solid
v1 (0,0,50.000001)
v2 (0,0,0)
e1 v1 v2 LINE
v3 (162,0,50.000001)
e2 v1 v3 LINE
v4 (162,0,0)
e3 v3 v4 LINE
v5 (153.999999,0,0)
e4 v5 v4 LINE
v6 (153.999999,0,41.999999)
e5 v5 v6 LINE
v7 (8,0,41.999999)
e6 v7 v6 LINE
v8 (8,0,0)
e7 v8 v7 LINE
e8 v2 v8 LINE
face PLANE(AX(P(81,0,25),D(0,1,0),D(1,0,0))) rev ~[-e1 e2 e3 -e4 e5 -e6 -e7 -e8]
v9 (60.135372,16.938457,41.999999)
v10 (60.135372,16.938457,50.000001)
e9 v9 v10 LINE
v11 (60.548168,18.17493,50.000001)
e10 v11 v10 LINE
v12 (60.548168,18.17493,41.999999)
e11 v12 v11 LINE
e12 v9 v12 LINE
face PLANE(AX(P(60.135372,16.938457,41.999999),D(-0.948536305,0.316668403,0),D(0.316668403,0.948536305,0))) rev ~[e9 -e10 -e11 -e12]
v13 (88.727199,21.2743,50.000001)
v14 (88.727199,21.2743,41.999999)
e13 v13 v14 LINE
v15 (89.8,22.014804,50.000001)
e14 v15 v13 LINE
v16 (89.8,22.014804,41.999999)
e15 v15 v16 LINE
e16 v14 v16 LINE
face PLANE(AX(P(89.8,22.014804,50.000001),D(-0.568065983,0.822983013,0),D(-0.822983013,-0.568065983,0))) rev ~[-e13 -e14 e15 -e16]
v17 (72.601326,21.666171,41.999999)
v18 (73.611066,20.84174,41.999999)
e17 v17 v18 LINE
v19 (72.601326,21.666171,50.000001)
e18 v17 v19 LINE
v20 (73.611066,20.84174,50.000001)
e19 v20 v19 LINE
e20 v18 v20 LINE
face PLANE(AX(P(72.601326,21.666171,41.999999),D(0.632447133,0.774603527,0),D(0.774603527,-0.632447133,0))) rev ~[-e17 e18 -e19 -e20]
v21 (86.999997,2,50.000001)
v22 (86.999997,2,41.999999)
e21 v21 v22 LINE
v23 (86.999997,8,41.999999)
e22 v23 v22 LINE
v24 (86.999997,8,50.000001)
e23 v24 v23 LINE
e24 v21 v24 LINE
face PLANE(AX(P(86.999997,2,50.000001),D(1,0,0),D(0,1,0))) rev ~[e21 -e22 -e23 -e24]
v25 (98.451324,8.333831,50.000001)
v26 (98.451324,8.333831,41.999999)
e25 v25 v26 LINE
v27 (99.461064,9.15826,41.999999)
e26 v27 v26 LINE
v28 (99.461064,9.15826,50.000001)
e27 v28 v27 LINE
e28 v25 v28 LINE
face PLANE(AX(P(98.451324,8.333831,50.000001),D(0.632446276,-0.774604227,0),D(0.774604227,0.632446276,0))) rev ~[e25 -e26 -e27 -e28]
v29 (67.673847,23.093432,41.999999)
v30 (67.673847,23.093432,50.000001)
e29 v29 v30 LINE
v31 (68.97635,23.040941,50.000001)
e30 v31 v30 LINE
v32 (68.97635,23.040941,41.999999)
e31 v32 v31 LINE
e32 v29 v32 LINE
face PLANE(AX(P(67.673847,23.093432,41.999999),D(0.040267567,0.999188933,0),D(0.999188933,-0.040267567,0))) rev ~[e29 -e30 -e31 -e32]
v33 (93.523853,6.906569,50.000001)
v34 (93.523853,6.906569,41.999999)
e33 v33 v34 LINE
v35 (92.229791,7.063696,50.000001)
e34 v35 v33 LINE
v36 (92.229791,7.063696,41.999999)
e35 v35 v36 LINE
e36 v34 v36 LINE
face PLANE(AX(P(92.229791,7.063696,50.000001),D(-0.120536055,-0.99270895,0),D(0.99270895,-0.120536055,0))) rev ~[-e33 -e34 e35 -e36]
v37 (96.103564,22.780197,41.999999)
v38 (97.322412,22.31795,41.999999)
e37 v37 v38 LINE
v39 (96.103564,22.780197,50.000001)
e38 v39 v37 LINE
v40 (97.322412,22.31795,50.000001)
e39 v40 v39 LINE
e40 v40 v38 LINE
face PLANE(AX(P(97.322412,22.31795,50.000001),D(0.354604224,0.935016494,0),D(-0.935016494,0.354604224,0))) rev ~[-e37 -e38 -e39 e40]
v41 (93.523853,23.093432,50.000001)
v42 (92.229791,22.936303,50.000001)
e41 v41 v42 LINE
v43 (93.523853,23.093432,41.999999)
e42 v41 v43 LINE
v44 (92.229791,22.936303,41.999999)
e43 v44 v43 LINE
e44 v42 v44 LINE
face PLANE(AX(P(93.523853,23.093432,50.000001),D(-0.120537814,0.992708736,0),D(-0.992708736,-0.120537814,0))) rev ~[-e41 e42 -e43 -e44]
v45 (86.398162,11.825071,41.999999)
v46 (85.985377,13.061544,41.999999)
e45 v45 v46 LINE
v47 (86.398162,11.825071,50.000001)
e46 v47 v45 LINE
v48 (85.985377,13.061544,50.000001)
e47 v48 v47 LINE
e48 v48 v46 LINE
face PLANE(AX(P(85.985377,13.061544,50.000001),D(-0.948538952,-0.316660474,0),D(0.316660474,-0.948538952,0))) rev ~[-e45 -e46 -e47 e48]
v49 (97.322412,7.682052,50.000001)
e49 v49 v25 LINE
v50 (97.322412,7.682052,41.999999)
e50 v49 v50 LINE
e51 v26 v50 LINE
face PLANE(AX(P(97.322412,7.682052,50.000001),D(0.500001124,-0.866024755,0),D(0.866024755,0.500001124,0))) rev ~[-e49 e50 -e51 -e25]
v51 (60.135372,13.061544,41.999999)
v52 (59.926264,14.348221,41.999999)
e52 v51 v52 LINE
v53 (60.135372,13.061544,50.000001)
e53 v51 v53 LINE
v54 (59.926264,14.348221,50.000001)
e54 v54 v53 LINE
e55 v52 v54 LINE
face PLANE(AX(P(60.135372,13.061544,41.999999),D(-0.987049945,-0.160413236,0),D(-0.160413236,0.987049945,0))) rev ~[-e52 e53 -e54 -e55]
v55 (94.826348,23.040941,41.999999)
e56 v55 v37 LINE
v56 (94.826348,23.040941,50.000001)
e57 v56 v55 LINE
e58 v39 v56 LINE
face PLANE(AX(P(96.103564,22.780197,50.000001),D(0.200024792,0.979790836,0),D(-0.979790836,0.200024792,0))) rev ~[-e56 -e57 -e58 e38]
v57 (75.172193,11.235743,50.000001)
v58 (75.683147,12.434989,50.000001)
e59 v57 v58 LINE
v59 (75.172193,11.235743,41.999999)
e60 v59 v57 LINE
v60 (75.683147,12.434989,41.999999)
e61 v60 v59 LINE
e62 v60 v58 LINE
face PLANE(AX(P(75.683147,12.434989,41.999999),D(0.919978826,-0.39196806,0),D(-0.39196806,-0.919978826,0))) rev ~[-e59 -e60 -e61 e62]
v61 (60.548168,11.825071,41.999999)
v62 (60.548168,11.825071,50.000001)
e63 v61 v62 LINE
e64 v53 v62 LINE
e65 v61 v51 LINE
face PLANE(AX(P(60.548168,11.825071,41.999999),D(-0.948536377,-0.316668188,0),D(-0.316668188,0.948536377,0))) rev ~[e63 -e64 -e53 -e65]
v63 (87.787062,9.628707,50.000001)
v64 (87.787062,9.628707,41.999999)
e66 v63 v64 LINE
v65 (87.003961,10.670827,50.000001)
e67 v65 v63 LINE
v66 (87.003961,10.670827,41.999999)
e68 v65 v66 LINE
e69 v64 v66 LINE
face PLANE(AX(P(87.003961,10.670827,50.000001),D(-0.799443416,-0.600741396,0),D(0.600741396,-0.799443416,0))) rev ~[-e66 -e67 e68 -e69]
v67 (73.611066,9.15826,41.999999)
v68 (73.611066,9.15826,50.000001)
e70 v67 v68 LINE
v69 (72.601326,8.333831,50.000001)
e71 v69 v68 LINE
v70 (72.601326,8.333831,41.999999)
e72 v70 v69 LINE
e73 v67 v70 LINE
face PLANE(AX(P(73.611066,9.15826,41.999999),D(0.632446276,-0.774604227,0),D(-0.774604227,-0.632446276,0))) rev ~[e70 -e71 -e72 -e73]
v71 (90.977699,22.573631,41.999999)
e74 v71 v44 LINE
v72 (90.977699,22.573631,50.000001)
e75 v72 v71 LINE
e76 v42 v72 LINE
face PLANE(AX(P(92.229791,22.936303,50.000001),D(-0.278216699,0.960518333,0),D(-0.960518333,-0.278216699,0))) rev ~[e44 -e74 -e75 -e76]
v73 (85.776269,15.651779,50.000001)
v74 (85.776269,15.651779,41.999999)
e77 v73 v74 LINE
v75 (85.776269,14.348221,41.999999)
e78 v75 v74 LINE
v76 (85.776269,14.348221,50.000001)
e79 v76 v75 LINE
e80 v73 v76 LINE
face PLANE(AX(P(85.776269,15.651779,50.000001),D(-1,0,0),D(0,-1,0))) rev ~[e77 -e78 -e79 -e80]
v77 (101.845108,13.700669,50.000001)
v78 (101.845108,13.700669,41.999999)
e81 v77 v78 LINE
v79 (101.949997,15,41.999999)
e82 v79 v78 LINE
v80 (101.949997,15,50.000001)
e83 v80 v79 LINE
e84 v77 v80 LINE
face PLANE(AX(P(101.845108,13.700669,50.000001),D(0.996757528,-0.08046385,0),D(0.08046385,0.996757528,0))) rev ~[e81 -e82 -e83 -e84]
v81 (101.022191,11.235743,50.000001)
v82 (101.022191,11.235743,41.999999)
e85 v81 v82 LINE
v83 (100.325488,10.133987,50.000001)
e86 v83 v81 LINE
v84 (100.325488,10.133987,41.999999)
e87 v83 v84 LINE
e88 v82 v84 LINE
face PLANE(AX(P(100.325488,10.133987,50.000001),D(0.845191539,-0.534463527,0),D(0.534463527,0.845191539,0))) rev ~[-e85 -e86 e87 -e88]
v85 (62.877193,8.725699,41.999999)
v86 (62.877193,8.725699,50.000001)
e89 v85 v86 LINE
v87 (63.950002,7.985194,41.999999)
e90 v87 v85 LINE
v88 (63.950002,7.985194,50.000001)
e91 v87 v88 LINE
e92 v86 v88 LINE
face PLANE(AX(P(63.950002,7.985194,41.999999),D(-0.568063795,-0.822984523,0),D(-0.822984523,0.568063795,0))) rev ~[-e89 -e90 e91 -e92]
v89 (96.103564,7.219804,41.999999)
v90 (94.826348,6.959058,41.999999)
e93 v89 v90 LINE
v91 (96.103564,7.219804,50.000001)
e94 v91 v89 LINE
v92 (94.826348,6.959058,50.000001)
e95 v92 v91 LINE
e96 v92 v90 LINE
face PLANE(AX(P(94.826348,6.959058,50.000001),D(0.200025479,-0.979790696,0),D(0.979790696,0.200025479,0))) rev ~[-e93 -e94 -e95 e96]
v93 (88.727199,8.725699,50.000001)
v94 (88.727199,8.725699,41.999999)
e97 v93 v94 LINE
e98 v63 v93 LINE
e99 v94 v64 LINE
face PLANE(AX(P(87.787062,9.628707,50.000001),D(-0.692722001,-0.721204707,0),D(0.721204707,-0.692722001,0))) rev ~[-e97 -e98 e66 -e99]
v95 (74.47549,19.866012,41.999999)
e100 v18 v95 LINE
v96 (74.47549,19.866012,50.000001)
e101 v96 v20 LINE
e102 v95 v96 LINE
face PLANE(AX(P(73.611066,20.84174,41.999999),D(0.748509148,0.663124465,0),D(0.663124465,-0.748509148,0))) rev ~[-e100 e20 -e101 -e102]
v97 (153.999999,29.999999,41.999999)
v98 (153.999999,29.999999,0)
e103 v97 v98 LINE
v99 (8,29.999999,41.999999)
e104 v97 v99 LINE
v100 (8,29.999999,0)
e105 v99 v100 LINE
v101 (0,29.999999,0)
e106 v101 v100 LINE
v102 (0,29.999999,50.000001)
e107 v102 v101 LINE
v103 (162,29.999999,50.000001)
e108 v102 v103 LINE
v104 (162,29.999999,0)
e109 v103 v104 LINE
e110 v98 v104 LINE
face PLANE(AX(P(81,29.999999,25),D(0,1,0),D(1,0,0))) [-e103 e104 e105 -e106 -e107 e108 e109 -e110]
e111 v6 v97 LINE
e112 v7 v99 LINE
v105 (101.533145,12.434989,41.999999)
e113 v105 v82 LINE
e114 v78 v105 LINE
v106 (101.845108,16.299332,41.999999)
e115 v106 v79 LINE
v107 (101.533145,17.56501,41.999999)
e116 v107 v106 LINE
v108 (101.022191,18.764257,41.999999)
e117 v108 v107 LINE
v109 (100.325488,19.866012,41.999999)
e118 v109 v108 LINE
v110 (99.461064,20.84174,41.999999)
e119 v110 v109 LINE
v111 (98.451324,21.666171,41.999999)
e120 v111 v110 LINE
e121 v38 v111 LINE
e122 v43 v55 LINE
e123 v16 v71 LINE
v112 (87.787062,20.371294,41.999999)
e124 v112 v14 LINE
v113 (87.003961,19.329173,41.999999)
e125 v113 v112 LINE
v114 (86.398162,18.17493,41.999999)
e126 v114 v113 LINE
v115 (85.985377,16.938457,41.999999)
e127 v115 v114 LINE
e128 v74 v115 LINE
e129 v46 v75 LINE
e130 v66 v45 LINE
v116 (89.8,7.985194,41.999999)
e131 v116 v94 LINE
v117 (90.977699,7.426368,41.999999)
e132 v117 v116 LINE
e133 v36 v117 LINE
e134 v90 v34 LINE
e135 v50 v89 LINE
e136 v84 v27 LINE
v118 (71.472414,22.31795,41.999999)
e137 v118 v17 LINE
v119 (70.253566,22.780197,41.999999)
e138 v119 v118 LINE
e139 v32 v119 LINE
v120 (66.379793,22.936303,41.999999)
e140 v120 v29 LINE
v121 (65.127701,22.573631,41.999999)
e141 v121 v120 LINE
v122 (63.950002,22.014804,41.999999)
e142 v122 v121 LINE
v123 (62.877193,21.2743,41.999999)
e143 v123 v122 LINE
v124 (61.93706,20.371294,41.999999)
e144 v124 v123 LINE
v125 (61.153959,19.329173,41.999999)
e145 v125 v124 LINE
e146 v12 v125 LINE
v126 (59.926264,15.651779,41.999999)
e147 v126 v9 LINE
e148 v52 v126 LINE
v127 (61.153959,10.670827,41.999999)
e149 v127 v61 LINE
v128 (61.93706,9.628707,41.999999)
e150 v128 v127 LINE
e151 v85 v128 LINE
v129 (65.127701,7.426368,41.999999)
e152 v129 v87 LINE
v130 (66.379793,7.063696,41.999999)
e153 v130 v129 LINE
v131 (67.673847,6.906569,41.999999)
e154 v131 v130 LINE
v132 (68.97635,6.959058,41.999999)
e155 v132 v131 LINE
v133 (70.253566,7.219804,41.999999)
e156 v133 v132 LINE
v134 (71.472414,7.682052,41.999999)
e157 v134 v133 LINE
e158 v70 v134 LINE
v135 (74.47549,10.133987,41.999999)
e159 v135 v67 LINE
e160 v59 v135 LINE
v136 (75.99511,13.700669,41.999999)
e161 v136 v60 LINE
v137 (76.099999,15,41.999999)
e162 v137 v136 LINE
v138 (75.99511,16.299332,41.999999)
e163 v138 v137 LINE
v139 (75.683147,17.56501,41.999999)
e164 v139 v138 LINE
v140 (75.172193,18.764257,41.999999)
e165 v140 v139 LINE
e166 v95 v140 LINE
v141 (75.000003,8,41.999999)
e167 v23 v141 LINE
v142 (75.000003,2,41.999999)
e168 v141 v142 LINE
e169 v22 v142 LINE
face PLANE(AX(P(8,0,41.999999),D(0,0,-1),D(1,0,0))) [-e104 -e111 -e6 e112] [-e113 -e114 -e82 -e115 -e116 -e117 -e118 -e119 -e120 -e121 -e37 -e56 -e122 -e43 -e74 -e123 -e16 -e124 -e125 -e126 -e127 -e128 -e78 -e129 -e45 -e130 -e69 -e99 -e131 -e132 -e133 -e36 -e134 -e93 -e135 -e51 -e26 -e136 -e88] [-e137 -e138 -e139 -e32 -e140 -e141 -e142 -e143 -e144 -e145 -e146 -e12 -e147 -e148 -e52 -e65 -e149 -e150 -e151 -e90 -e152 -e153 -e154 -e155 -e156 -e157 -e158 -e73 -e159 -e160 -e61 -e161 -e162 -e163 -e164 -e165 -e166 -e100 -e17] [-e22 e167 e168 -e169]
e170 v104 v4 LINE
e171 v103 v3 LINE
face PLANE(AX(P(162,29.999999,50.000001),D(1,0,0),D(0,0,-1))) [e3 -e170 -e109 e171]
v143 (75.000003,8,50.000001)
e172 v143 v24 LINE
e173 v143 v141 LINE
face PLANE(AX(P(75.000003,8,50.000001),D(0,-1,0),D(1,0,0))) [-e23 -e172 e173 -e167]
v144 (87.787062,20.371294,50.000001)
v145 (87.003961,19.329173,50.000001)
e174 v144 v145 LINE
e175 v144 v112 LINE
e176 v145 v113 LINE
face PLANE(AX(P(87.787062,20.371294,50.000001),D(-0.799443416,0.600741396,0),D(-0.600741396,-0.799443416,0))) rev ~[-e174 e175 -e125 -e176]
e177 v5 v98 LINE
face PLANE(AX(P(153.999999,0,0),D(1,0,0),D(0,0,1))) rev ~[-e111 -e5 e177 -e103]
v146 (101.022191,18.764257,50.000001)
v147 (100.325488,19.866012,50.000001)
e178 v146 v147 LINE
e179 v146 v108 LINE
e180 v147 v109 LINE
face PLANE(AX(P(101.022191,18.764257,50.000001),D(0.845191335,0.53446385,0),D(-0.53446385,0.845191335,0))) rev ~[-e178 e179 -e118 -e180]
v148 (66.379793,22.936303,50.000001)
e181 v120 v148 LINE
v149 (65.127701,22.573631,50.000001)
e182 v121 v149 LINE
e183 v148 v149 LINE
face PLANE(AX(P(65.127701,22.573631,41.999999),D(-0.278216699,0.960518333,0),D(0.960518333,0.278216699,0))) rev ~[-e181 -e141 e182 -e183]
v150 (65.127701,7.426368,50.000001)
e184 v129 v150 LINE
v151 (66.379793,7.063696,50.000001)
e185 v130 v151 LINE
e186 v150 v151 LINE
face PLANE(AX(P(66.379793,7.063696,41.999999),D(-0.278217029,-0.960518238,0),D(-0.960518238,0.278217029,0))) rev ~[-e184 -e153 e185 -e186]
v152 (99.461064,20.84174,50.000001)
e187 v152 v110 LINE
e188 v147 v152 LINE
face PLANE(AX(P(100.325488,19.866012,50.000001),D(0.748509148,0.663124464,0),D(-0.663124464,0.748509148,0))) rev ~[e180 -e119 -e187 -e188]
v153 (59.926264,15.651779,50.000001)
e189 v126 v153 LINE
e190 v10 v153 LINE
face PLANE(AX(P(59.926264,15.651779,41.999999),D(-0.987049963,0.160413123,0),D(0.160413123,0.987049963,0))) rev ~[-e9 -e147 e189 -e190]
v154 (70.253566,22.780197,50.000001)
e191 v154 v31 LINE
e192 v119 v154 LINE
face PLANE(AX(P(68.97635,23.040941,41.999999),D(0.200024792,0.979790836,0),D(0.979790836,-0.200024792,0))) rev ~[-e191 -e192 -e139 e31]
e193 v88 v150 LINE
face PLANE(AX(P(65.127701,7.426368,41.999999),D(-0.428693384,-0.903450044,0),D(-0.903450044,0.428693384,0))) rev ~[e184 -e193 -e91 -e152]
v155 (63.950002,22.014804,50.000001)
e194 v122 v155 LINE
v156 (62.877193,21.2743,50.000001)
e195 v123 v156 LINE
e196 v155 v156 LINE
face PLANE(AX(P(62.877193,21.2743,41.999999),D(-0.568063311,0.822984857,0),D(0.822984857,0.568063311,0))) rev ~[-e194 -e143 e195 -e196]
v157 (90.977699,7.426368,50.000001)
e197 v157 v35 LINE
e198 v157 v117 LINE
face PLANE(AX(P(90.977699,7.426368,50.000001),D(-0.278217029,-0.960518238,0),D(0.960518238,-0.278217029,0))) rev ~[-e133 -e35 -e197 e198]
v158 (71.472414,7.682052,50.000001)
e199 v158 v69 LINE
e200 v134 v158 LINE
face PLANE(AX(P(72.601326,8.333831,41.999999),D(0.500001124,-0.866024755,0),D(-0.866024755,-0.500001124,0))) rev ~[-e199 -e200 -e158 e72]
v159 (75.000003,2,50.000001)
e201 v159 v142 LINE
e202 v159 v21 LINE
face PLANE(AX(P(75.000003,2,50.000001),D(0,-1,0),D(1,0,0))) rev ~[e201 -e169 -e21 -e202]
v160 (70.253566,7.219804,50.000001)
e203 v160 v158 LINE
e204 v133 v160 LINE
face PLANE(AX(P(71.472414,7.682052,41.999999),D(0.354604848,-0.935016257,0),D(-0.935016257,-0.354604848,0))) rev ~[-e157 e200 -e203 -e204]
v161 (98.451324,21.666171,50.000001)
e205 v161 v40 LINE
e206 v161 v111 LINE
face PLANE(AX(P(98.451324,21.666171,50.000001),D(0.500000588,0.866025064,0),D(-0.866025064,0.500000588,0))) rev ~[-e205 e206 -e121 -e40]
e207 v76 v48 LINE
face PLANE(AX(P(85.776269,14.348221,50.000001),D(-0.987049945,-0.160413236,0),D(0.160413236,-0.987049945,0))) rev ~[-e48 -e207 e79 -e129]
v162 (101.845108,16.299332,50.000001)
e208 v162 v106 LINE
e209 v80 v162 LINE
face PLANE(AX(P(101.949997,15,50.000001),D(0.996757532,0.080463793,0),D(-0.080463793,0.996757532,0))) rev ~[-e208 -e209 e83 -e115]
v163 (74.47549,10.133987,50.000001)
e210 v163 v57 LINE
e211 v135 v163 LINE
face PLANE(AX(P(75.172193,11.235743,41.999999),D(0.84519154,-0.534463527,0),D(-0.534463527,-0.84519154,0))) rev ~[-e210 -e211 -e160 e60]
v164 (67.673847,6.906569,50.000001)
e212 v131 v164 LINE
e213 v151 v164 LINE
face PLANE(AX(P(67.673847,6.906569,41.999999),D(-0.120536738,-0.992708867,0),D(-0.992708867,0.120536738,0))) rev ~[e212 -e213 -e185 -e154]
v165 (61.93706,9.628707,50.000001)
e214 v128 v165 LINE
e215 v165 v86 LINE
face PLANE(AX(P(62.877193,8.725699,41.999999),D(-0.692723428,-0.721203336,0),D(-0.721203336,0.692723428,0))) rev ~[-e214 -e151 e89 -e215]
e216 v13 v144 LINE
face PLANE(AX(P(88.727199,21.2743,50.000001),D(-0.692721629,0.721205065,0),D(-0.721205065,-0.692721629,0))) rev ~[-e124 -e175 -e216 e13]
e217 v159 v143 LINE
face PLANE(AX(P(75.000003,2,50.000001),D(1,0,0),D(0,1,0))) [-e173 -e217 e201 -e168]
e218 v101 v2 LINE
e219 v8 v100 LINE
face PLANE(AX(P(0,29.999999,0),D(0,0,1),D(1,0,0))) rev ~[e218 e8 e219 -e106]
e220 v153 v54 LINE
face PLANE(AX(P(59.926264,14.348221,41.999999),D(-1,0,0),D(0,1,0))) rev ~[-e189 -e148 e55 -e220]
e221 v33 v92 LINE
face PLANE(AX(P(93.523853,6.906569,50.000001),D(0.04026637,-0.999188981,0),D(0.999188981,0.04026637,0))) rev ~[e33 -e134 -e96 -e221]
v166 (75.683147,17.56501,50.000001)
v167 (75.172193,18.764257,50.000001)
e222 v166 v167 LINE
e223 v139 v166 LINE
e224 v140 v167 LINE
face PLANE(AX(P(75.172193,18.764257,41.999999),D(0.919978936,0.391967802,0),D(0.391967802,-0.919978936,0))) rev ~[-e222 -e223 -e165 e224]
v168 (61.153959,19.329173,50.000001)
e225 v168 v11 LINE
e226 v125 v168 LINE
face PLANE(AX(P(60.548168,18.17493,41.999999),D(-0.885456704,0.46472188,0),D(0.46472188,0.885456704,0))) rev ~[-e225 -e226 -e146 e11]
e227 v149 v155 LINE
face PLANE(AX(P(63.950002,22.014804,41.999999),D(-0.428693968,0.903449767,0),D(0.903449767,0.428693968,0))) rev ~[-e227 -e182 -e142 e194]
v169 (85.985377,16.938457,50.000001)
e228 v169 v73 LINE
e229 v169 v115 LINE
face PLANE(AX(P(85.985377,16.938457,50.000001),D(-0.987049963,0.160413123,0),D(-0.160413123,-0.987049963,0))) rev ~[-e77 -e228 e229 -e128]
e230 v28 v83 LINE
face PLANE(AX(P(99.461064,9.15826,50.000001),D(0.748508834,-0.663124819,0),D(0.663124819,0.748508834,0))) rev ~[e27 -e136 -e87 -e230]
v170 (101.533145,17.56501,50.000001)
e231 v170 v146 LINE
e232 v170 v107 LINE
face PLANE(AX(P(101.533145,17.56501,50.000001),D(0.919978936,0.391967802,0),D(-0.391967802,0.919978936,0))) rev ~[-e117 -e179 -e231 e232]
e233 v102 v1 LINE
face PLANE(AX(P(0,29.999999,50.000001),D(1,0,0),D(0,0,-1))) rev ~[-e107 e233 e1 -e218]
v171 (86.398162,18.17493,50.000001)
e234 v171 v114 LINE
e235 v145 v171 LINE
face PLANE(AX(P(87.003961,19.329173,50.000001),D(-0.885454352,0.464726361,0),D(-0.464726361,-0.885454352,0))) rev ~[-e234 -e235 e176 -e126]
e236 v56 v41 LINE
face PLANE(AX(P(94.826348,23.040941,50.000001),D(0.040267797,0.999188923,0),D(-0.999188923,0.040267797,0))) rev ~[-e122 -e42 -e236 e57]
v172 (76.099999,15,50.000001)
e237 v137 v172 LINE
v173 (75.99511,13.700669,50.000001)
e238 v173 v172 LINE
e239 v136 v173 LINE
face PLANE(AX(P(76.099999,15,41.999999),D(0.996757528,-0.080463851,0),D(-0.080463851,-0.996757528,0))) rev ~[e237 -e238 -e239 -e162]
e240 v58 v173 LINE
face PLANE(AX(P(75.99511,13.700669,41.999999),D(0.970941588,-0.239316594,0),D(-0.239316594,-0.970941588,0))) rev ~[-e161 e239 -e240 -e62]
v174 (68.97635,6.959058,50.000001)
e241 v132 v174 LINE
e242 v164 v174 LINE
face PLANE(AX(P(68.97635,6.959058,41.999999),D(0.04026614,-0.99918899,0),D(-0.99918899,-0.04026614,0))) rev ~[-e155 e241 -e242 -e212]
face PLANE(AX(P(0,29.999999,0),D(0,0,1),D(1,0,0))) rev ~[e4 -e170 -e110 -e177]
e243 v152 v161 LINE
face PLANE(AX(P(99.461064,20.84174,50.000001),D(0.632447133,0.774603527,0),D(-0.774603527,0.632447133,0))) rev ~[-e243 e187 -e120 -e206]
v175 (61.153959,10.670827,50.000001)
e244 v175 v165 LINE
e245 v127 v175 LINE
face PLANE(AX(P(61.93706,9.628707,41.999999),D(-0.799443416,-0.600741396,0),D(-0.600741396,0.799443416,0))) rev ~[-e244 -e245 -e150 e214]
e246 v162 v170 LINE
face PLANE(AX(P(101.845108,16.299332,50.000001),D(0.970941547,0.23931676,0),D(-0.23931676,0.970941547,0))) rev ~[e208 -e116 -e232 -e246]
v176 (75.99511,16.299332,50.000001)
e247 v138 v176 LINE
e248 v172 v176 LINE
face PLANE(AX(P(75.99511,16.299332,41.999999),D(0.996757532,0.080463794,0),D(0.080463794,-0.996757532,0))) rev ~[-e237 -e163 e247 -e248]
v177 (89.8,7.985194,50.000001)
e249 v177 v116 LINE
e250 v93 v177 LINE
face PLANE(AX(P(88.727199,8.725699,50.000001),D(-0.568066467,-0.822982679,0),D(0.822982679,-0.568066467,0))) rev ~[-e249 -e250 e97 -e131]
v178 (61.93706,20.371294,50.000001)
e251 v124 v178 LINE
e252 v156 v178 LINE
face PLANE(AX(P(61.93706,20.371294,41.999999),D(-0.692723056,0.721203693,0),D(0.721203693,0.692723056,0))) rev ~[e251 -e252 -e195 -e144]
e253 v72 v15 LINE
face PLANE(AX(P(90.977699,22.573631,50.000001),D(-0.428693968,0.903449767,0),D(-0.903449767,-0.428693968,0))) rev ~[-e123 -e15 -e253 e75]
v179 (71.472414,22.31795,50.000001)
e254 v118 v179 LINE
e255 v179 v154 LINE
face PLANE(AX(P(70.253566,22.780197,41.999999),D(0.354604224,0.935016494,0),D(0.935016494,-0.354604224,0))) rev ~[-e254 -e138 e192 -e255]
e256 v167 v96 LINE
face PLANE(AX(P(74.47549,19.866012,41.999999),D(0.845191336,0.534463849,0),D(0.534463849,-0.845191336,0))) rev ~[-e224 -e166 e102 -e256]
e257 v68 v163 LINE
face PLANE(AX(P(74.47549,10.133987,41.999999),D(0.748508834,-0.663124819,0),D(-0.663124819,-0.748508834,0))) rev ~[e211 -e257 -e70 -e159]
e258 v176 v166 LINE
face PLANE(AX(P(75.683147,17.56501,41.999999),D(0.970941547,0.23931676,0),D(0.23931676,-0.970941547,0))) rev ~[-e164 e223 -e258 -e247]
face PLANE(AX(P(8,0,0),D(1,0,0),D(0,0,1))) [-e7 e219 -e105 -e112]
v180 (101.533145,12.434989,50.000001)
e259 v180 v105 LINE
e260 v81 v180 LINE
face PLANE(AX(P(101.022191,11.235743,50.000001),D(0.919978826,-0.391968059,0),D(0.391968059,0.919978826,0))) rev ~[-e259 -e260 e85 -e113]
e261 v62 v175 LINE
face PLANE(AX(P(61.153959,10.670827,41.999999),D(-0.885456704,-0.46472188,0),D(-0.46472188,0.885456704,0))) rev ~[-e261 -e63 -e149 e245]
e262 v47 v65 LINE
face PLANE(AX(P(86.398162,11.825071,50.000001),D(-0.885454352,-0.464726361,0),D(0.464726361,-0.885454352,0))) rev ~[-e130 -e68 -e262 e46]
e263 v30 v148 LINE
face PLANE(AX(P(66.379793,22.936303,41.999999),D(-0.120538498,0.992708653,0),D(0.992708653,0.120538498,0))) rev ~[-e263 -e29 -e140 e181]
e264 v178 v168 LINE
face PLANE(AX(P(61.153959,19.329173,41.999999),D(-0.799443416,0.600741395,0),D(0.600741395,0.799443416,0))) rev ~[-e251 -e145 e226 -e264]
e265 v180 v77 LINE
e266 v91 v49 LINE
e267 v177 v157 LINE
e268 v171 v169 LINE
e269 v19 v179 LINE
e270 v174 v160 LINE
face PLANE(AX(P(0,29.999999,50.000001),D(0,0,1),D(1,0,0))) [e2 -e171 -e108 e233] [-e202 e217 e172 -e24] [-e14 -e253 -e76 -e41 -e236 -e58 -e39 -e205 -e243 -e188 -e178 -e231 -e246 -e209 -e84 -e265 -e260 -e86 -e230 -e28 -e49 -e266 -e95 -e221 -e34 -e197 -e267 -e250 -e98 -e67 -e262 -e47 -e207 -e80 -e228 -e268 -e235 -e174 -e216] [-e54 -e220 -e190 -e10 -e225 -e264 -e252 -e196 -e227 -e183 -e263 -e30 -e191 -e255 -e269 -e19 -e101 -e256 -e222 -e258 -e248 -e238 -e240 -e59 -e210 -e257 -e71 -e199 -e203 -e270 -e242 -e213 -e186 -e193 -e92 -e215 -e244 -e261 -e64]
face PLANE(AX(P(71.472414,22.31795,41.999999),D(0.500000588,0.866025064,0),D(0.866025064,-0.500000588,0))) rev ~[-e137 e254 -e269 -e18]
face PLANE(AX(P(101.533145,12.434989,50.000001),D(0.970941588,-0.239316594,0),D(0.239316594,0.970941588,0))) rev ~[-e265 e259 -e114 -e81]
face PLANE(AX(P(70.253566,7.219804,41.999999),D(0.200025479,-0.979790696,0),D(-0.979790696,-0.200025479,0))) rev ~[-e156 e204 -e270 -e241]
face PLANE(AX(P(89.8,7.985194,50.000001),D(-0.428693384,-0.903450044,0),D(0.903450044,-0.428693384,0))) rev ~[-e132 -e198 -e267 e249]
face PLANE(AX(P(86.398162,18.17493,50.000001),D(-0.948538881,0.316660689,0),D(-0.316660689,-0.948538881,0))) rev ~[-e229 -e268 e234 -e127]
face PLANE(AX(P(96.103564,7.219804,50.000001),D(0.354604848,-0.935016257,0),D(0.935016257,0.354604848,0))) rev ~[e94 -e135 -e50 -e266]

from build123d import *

# Parameters (mm, degrees)
SKETCH1_W           = 162.000000477
SKETCH1_H           = 50.000000745
BOSS_EXTRUDE1_DEPTH = 29.999999329
SKETCH2_W           = 145.999998786
SKETCH2_H           = 41.999999434
CUT_EXTRUDE1_DEPTH  = 173.174330807
CUT_EXTRUDE2_DEPTH  = 173.174330807
SKETCH4_W           = 11.999994517
SKETCH4_H           = 6.000000285
CUT_EXTRUDE3_DEPTH  = 173.174330807
CUT_EXTRUDE4_DEPTH  = 171.02352798


with BuildPart() as part:
    # Sketch1 → Boss-Extrude1 (new body)
    with BuildSketch(Plane(origin=(0, 29.999999329, 0), x_dir=(1, 0, 0), z_dir=(0, 1, 0))):
        with Locations((81.000000239, -25.000000373)):
            Rectangle(SKETCH1_W, SKETCH1_H)
    extrude(amount=-BOSS_EXTRUDE1_DEPTH)

    # Sketch2 → Cut-Extrude1 (cut, through all)
    with BuildSketch(Plane.XZ):
        with Locations((80.999999773, 20.999999717)):
            Rectangle(SKETCH2_W, SKETCH2_H)
    extrude(amount=-CUT_EXTRUDE1_DEPTH, mode=Mode.SUBTRACT)

    # Sketch3 → Cut-Extrude2 (cut, through all)
    with BuildSketch(Plane.XY.offset(50.000000745)):
        Polygon((85.776269436, 14.348221011), (85.985377431, 13.061543927), (86.398161948, 11.825070716), (87.003961205, 10.67082677), (87.78706193, 9.628706612), (88.727198541, 8.725699037), (89.800000191, 7.985194214), (90.977698565, 7.426368073), (92.229790986, 7.063695695), (93.523852527, 6.906569004), (94.826348126, 6.959058344), (96.103563905, 7.21980352), (97.322411835, 7.68205151), (98.451323807, 8.333831094), (99.461063743, 9.158260189), (100.325487554, 10.133987293), (101.022191346, 11.23574283), (101.533144712, 12.434989214), (101.845107973, 13.7006687), (101.949997246, 14.999999665), (101.845107973, 16.299331561), (101.533144712, 17.565010116), (101.022191346, 18.764257431), (100.325487554, 19.866012037), (99.461063743, 20.841740072), (98.451323807, 21.666171029), (97.322411835, 22.317949682), (96.103563905, 22.780196741), (94.826348126, 23.040940985), (93.523852527, 23.093432188), (92.229790986, 22.936303169), (90.977698565, 22.573631257), (89.800000191, 22.014804184), (88.727198541, 21.274300292), (87.78706193, 20.371293649), (87.003961205, 19.32917349), (86.398161948, 18.174929544), (85.985377431, 16.938457265), (85.776269436, 15.651779249), align=None)
    extrude(amount=-CUT_EXTRUDE2_DEPTH, mode=Mode.SUBTRACT)

    # Sketch4 → Cut-Extrude3 (cut, through all)
    with BuildSketch(Plane.XY.offset(50.000000745)):
        with Locations((81.000000239, 5.000000238)):
            Rectangle(SKETCH4_W, SKETCH4_H)
    extrude(amount=-CUT_EXTRUDE3_DEPTH, mode=Mode.SUBTRACT)

    # Sketch5 → Cut-Extrude4 (cut, through all)
    with BuildSketch(Plane(origin=(0, 0, 41.999999434), x_dir=(-1, 0, 0), z_dir=(0, 0, -1))):
        Polygon((-70.253565907, 22.780196741), (-71.472413838, 22.317949682), (-72.60132581, 21.666171029), (-73.611065745, 20.841740072), (-74.475489557, 19.866012037), (-75.172193348, 18.764257431), (-75.683146715, 17.565010116), (-75.995109975, 16.299331561), (-76.099999249, 14.999999665), (-75.995109975, 13.7006687), (-75.683146715, 12.434989214), (-75.172193348, 11.23574283), (-74.475489557, 10.133987293), (-73.611065745, 9.158260189), (-72.60132581, 8.333831094), (-71.472413838, 7.68205151), (-70.253565907, 7.21980352), (-68.976350129, 6.959058344), (-67.673847079, 6.906569004), (-66.379792988, 7.063695695), (-65.127700567, 7.426368073), (-63.950002193, 7.985194214), (-62.877193093, 8.725699037), (-61.937060207, 9.628706612), (-61.153959483, 10.67082677), (-60.548167676, 11.825070716), (-60.135371983, 13.061543927), (-59.926263988, 14.348221011), (-59.926263988, 15.651779249), (-60.135371983, 16.938457265), (-60.548167676, 18.174929544), (-61.153959483, 19.32917349), (-61.937060207, 20.371293649), (-62.877193093, 21.274300292), (-63.950002193, 22.014804184), (-65.127700567, 22.573631257), (-66.379792988, 22.936303169), (-67.673847079, 23.093432188), (-68.976350129, 23.040940985), align=None)
    extrude(amount=-CUT_EXTRUDE4_DEPTH, mode=Mode.SUBTRACT)


solid = part.part
